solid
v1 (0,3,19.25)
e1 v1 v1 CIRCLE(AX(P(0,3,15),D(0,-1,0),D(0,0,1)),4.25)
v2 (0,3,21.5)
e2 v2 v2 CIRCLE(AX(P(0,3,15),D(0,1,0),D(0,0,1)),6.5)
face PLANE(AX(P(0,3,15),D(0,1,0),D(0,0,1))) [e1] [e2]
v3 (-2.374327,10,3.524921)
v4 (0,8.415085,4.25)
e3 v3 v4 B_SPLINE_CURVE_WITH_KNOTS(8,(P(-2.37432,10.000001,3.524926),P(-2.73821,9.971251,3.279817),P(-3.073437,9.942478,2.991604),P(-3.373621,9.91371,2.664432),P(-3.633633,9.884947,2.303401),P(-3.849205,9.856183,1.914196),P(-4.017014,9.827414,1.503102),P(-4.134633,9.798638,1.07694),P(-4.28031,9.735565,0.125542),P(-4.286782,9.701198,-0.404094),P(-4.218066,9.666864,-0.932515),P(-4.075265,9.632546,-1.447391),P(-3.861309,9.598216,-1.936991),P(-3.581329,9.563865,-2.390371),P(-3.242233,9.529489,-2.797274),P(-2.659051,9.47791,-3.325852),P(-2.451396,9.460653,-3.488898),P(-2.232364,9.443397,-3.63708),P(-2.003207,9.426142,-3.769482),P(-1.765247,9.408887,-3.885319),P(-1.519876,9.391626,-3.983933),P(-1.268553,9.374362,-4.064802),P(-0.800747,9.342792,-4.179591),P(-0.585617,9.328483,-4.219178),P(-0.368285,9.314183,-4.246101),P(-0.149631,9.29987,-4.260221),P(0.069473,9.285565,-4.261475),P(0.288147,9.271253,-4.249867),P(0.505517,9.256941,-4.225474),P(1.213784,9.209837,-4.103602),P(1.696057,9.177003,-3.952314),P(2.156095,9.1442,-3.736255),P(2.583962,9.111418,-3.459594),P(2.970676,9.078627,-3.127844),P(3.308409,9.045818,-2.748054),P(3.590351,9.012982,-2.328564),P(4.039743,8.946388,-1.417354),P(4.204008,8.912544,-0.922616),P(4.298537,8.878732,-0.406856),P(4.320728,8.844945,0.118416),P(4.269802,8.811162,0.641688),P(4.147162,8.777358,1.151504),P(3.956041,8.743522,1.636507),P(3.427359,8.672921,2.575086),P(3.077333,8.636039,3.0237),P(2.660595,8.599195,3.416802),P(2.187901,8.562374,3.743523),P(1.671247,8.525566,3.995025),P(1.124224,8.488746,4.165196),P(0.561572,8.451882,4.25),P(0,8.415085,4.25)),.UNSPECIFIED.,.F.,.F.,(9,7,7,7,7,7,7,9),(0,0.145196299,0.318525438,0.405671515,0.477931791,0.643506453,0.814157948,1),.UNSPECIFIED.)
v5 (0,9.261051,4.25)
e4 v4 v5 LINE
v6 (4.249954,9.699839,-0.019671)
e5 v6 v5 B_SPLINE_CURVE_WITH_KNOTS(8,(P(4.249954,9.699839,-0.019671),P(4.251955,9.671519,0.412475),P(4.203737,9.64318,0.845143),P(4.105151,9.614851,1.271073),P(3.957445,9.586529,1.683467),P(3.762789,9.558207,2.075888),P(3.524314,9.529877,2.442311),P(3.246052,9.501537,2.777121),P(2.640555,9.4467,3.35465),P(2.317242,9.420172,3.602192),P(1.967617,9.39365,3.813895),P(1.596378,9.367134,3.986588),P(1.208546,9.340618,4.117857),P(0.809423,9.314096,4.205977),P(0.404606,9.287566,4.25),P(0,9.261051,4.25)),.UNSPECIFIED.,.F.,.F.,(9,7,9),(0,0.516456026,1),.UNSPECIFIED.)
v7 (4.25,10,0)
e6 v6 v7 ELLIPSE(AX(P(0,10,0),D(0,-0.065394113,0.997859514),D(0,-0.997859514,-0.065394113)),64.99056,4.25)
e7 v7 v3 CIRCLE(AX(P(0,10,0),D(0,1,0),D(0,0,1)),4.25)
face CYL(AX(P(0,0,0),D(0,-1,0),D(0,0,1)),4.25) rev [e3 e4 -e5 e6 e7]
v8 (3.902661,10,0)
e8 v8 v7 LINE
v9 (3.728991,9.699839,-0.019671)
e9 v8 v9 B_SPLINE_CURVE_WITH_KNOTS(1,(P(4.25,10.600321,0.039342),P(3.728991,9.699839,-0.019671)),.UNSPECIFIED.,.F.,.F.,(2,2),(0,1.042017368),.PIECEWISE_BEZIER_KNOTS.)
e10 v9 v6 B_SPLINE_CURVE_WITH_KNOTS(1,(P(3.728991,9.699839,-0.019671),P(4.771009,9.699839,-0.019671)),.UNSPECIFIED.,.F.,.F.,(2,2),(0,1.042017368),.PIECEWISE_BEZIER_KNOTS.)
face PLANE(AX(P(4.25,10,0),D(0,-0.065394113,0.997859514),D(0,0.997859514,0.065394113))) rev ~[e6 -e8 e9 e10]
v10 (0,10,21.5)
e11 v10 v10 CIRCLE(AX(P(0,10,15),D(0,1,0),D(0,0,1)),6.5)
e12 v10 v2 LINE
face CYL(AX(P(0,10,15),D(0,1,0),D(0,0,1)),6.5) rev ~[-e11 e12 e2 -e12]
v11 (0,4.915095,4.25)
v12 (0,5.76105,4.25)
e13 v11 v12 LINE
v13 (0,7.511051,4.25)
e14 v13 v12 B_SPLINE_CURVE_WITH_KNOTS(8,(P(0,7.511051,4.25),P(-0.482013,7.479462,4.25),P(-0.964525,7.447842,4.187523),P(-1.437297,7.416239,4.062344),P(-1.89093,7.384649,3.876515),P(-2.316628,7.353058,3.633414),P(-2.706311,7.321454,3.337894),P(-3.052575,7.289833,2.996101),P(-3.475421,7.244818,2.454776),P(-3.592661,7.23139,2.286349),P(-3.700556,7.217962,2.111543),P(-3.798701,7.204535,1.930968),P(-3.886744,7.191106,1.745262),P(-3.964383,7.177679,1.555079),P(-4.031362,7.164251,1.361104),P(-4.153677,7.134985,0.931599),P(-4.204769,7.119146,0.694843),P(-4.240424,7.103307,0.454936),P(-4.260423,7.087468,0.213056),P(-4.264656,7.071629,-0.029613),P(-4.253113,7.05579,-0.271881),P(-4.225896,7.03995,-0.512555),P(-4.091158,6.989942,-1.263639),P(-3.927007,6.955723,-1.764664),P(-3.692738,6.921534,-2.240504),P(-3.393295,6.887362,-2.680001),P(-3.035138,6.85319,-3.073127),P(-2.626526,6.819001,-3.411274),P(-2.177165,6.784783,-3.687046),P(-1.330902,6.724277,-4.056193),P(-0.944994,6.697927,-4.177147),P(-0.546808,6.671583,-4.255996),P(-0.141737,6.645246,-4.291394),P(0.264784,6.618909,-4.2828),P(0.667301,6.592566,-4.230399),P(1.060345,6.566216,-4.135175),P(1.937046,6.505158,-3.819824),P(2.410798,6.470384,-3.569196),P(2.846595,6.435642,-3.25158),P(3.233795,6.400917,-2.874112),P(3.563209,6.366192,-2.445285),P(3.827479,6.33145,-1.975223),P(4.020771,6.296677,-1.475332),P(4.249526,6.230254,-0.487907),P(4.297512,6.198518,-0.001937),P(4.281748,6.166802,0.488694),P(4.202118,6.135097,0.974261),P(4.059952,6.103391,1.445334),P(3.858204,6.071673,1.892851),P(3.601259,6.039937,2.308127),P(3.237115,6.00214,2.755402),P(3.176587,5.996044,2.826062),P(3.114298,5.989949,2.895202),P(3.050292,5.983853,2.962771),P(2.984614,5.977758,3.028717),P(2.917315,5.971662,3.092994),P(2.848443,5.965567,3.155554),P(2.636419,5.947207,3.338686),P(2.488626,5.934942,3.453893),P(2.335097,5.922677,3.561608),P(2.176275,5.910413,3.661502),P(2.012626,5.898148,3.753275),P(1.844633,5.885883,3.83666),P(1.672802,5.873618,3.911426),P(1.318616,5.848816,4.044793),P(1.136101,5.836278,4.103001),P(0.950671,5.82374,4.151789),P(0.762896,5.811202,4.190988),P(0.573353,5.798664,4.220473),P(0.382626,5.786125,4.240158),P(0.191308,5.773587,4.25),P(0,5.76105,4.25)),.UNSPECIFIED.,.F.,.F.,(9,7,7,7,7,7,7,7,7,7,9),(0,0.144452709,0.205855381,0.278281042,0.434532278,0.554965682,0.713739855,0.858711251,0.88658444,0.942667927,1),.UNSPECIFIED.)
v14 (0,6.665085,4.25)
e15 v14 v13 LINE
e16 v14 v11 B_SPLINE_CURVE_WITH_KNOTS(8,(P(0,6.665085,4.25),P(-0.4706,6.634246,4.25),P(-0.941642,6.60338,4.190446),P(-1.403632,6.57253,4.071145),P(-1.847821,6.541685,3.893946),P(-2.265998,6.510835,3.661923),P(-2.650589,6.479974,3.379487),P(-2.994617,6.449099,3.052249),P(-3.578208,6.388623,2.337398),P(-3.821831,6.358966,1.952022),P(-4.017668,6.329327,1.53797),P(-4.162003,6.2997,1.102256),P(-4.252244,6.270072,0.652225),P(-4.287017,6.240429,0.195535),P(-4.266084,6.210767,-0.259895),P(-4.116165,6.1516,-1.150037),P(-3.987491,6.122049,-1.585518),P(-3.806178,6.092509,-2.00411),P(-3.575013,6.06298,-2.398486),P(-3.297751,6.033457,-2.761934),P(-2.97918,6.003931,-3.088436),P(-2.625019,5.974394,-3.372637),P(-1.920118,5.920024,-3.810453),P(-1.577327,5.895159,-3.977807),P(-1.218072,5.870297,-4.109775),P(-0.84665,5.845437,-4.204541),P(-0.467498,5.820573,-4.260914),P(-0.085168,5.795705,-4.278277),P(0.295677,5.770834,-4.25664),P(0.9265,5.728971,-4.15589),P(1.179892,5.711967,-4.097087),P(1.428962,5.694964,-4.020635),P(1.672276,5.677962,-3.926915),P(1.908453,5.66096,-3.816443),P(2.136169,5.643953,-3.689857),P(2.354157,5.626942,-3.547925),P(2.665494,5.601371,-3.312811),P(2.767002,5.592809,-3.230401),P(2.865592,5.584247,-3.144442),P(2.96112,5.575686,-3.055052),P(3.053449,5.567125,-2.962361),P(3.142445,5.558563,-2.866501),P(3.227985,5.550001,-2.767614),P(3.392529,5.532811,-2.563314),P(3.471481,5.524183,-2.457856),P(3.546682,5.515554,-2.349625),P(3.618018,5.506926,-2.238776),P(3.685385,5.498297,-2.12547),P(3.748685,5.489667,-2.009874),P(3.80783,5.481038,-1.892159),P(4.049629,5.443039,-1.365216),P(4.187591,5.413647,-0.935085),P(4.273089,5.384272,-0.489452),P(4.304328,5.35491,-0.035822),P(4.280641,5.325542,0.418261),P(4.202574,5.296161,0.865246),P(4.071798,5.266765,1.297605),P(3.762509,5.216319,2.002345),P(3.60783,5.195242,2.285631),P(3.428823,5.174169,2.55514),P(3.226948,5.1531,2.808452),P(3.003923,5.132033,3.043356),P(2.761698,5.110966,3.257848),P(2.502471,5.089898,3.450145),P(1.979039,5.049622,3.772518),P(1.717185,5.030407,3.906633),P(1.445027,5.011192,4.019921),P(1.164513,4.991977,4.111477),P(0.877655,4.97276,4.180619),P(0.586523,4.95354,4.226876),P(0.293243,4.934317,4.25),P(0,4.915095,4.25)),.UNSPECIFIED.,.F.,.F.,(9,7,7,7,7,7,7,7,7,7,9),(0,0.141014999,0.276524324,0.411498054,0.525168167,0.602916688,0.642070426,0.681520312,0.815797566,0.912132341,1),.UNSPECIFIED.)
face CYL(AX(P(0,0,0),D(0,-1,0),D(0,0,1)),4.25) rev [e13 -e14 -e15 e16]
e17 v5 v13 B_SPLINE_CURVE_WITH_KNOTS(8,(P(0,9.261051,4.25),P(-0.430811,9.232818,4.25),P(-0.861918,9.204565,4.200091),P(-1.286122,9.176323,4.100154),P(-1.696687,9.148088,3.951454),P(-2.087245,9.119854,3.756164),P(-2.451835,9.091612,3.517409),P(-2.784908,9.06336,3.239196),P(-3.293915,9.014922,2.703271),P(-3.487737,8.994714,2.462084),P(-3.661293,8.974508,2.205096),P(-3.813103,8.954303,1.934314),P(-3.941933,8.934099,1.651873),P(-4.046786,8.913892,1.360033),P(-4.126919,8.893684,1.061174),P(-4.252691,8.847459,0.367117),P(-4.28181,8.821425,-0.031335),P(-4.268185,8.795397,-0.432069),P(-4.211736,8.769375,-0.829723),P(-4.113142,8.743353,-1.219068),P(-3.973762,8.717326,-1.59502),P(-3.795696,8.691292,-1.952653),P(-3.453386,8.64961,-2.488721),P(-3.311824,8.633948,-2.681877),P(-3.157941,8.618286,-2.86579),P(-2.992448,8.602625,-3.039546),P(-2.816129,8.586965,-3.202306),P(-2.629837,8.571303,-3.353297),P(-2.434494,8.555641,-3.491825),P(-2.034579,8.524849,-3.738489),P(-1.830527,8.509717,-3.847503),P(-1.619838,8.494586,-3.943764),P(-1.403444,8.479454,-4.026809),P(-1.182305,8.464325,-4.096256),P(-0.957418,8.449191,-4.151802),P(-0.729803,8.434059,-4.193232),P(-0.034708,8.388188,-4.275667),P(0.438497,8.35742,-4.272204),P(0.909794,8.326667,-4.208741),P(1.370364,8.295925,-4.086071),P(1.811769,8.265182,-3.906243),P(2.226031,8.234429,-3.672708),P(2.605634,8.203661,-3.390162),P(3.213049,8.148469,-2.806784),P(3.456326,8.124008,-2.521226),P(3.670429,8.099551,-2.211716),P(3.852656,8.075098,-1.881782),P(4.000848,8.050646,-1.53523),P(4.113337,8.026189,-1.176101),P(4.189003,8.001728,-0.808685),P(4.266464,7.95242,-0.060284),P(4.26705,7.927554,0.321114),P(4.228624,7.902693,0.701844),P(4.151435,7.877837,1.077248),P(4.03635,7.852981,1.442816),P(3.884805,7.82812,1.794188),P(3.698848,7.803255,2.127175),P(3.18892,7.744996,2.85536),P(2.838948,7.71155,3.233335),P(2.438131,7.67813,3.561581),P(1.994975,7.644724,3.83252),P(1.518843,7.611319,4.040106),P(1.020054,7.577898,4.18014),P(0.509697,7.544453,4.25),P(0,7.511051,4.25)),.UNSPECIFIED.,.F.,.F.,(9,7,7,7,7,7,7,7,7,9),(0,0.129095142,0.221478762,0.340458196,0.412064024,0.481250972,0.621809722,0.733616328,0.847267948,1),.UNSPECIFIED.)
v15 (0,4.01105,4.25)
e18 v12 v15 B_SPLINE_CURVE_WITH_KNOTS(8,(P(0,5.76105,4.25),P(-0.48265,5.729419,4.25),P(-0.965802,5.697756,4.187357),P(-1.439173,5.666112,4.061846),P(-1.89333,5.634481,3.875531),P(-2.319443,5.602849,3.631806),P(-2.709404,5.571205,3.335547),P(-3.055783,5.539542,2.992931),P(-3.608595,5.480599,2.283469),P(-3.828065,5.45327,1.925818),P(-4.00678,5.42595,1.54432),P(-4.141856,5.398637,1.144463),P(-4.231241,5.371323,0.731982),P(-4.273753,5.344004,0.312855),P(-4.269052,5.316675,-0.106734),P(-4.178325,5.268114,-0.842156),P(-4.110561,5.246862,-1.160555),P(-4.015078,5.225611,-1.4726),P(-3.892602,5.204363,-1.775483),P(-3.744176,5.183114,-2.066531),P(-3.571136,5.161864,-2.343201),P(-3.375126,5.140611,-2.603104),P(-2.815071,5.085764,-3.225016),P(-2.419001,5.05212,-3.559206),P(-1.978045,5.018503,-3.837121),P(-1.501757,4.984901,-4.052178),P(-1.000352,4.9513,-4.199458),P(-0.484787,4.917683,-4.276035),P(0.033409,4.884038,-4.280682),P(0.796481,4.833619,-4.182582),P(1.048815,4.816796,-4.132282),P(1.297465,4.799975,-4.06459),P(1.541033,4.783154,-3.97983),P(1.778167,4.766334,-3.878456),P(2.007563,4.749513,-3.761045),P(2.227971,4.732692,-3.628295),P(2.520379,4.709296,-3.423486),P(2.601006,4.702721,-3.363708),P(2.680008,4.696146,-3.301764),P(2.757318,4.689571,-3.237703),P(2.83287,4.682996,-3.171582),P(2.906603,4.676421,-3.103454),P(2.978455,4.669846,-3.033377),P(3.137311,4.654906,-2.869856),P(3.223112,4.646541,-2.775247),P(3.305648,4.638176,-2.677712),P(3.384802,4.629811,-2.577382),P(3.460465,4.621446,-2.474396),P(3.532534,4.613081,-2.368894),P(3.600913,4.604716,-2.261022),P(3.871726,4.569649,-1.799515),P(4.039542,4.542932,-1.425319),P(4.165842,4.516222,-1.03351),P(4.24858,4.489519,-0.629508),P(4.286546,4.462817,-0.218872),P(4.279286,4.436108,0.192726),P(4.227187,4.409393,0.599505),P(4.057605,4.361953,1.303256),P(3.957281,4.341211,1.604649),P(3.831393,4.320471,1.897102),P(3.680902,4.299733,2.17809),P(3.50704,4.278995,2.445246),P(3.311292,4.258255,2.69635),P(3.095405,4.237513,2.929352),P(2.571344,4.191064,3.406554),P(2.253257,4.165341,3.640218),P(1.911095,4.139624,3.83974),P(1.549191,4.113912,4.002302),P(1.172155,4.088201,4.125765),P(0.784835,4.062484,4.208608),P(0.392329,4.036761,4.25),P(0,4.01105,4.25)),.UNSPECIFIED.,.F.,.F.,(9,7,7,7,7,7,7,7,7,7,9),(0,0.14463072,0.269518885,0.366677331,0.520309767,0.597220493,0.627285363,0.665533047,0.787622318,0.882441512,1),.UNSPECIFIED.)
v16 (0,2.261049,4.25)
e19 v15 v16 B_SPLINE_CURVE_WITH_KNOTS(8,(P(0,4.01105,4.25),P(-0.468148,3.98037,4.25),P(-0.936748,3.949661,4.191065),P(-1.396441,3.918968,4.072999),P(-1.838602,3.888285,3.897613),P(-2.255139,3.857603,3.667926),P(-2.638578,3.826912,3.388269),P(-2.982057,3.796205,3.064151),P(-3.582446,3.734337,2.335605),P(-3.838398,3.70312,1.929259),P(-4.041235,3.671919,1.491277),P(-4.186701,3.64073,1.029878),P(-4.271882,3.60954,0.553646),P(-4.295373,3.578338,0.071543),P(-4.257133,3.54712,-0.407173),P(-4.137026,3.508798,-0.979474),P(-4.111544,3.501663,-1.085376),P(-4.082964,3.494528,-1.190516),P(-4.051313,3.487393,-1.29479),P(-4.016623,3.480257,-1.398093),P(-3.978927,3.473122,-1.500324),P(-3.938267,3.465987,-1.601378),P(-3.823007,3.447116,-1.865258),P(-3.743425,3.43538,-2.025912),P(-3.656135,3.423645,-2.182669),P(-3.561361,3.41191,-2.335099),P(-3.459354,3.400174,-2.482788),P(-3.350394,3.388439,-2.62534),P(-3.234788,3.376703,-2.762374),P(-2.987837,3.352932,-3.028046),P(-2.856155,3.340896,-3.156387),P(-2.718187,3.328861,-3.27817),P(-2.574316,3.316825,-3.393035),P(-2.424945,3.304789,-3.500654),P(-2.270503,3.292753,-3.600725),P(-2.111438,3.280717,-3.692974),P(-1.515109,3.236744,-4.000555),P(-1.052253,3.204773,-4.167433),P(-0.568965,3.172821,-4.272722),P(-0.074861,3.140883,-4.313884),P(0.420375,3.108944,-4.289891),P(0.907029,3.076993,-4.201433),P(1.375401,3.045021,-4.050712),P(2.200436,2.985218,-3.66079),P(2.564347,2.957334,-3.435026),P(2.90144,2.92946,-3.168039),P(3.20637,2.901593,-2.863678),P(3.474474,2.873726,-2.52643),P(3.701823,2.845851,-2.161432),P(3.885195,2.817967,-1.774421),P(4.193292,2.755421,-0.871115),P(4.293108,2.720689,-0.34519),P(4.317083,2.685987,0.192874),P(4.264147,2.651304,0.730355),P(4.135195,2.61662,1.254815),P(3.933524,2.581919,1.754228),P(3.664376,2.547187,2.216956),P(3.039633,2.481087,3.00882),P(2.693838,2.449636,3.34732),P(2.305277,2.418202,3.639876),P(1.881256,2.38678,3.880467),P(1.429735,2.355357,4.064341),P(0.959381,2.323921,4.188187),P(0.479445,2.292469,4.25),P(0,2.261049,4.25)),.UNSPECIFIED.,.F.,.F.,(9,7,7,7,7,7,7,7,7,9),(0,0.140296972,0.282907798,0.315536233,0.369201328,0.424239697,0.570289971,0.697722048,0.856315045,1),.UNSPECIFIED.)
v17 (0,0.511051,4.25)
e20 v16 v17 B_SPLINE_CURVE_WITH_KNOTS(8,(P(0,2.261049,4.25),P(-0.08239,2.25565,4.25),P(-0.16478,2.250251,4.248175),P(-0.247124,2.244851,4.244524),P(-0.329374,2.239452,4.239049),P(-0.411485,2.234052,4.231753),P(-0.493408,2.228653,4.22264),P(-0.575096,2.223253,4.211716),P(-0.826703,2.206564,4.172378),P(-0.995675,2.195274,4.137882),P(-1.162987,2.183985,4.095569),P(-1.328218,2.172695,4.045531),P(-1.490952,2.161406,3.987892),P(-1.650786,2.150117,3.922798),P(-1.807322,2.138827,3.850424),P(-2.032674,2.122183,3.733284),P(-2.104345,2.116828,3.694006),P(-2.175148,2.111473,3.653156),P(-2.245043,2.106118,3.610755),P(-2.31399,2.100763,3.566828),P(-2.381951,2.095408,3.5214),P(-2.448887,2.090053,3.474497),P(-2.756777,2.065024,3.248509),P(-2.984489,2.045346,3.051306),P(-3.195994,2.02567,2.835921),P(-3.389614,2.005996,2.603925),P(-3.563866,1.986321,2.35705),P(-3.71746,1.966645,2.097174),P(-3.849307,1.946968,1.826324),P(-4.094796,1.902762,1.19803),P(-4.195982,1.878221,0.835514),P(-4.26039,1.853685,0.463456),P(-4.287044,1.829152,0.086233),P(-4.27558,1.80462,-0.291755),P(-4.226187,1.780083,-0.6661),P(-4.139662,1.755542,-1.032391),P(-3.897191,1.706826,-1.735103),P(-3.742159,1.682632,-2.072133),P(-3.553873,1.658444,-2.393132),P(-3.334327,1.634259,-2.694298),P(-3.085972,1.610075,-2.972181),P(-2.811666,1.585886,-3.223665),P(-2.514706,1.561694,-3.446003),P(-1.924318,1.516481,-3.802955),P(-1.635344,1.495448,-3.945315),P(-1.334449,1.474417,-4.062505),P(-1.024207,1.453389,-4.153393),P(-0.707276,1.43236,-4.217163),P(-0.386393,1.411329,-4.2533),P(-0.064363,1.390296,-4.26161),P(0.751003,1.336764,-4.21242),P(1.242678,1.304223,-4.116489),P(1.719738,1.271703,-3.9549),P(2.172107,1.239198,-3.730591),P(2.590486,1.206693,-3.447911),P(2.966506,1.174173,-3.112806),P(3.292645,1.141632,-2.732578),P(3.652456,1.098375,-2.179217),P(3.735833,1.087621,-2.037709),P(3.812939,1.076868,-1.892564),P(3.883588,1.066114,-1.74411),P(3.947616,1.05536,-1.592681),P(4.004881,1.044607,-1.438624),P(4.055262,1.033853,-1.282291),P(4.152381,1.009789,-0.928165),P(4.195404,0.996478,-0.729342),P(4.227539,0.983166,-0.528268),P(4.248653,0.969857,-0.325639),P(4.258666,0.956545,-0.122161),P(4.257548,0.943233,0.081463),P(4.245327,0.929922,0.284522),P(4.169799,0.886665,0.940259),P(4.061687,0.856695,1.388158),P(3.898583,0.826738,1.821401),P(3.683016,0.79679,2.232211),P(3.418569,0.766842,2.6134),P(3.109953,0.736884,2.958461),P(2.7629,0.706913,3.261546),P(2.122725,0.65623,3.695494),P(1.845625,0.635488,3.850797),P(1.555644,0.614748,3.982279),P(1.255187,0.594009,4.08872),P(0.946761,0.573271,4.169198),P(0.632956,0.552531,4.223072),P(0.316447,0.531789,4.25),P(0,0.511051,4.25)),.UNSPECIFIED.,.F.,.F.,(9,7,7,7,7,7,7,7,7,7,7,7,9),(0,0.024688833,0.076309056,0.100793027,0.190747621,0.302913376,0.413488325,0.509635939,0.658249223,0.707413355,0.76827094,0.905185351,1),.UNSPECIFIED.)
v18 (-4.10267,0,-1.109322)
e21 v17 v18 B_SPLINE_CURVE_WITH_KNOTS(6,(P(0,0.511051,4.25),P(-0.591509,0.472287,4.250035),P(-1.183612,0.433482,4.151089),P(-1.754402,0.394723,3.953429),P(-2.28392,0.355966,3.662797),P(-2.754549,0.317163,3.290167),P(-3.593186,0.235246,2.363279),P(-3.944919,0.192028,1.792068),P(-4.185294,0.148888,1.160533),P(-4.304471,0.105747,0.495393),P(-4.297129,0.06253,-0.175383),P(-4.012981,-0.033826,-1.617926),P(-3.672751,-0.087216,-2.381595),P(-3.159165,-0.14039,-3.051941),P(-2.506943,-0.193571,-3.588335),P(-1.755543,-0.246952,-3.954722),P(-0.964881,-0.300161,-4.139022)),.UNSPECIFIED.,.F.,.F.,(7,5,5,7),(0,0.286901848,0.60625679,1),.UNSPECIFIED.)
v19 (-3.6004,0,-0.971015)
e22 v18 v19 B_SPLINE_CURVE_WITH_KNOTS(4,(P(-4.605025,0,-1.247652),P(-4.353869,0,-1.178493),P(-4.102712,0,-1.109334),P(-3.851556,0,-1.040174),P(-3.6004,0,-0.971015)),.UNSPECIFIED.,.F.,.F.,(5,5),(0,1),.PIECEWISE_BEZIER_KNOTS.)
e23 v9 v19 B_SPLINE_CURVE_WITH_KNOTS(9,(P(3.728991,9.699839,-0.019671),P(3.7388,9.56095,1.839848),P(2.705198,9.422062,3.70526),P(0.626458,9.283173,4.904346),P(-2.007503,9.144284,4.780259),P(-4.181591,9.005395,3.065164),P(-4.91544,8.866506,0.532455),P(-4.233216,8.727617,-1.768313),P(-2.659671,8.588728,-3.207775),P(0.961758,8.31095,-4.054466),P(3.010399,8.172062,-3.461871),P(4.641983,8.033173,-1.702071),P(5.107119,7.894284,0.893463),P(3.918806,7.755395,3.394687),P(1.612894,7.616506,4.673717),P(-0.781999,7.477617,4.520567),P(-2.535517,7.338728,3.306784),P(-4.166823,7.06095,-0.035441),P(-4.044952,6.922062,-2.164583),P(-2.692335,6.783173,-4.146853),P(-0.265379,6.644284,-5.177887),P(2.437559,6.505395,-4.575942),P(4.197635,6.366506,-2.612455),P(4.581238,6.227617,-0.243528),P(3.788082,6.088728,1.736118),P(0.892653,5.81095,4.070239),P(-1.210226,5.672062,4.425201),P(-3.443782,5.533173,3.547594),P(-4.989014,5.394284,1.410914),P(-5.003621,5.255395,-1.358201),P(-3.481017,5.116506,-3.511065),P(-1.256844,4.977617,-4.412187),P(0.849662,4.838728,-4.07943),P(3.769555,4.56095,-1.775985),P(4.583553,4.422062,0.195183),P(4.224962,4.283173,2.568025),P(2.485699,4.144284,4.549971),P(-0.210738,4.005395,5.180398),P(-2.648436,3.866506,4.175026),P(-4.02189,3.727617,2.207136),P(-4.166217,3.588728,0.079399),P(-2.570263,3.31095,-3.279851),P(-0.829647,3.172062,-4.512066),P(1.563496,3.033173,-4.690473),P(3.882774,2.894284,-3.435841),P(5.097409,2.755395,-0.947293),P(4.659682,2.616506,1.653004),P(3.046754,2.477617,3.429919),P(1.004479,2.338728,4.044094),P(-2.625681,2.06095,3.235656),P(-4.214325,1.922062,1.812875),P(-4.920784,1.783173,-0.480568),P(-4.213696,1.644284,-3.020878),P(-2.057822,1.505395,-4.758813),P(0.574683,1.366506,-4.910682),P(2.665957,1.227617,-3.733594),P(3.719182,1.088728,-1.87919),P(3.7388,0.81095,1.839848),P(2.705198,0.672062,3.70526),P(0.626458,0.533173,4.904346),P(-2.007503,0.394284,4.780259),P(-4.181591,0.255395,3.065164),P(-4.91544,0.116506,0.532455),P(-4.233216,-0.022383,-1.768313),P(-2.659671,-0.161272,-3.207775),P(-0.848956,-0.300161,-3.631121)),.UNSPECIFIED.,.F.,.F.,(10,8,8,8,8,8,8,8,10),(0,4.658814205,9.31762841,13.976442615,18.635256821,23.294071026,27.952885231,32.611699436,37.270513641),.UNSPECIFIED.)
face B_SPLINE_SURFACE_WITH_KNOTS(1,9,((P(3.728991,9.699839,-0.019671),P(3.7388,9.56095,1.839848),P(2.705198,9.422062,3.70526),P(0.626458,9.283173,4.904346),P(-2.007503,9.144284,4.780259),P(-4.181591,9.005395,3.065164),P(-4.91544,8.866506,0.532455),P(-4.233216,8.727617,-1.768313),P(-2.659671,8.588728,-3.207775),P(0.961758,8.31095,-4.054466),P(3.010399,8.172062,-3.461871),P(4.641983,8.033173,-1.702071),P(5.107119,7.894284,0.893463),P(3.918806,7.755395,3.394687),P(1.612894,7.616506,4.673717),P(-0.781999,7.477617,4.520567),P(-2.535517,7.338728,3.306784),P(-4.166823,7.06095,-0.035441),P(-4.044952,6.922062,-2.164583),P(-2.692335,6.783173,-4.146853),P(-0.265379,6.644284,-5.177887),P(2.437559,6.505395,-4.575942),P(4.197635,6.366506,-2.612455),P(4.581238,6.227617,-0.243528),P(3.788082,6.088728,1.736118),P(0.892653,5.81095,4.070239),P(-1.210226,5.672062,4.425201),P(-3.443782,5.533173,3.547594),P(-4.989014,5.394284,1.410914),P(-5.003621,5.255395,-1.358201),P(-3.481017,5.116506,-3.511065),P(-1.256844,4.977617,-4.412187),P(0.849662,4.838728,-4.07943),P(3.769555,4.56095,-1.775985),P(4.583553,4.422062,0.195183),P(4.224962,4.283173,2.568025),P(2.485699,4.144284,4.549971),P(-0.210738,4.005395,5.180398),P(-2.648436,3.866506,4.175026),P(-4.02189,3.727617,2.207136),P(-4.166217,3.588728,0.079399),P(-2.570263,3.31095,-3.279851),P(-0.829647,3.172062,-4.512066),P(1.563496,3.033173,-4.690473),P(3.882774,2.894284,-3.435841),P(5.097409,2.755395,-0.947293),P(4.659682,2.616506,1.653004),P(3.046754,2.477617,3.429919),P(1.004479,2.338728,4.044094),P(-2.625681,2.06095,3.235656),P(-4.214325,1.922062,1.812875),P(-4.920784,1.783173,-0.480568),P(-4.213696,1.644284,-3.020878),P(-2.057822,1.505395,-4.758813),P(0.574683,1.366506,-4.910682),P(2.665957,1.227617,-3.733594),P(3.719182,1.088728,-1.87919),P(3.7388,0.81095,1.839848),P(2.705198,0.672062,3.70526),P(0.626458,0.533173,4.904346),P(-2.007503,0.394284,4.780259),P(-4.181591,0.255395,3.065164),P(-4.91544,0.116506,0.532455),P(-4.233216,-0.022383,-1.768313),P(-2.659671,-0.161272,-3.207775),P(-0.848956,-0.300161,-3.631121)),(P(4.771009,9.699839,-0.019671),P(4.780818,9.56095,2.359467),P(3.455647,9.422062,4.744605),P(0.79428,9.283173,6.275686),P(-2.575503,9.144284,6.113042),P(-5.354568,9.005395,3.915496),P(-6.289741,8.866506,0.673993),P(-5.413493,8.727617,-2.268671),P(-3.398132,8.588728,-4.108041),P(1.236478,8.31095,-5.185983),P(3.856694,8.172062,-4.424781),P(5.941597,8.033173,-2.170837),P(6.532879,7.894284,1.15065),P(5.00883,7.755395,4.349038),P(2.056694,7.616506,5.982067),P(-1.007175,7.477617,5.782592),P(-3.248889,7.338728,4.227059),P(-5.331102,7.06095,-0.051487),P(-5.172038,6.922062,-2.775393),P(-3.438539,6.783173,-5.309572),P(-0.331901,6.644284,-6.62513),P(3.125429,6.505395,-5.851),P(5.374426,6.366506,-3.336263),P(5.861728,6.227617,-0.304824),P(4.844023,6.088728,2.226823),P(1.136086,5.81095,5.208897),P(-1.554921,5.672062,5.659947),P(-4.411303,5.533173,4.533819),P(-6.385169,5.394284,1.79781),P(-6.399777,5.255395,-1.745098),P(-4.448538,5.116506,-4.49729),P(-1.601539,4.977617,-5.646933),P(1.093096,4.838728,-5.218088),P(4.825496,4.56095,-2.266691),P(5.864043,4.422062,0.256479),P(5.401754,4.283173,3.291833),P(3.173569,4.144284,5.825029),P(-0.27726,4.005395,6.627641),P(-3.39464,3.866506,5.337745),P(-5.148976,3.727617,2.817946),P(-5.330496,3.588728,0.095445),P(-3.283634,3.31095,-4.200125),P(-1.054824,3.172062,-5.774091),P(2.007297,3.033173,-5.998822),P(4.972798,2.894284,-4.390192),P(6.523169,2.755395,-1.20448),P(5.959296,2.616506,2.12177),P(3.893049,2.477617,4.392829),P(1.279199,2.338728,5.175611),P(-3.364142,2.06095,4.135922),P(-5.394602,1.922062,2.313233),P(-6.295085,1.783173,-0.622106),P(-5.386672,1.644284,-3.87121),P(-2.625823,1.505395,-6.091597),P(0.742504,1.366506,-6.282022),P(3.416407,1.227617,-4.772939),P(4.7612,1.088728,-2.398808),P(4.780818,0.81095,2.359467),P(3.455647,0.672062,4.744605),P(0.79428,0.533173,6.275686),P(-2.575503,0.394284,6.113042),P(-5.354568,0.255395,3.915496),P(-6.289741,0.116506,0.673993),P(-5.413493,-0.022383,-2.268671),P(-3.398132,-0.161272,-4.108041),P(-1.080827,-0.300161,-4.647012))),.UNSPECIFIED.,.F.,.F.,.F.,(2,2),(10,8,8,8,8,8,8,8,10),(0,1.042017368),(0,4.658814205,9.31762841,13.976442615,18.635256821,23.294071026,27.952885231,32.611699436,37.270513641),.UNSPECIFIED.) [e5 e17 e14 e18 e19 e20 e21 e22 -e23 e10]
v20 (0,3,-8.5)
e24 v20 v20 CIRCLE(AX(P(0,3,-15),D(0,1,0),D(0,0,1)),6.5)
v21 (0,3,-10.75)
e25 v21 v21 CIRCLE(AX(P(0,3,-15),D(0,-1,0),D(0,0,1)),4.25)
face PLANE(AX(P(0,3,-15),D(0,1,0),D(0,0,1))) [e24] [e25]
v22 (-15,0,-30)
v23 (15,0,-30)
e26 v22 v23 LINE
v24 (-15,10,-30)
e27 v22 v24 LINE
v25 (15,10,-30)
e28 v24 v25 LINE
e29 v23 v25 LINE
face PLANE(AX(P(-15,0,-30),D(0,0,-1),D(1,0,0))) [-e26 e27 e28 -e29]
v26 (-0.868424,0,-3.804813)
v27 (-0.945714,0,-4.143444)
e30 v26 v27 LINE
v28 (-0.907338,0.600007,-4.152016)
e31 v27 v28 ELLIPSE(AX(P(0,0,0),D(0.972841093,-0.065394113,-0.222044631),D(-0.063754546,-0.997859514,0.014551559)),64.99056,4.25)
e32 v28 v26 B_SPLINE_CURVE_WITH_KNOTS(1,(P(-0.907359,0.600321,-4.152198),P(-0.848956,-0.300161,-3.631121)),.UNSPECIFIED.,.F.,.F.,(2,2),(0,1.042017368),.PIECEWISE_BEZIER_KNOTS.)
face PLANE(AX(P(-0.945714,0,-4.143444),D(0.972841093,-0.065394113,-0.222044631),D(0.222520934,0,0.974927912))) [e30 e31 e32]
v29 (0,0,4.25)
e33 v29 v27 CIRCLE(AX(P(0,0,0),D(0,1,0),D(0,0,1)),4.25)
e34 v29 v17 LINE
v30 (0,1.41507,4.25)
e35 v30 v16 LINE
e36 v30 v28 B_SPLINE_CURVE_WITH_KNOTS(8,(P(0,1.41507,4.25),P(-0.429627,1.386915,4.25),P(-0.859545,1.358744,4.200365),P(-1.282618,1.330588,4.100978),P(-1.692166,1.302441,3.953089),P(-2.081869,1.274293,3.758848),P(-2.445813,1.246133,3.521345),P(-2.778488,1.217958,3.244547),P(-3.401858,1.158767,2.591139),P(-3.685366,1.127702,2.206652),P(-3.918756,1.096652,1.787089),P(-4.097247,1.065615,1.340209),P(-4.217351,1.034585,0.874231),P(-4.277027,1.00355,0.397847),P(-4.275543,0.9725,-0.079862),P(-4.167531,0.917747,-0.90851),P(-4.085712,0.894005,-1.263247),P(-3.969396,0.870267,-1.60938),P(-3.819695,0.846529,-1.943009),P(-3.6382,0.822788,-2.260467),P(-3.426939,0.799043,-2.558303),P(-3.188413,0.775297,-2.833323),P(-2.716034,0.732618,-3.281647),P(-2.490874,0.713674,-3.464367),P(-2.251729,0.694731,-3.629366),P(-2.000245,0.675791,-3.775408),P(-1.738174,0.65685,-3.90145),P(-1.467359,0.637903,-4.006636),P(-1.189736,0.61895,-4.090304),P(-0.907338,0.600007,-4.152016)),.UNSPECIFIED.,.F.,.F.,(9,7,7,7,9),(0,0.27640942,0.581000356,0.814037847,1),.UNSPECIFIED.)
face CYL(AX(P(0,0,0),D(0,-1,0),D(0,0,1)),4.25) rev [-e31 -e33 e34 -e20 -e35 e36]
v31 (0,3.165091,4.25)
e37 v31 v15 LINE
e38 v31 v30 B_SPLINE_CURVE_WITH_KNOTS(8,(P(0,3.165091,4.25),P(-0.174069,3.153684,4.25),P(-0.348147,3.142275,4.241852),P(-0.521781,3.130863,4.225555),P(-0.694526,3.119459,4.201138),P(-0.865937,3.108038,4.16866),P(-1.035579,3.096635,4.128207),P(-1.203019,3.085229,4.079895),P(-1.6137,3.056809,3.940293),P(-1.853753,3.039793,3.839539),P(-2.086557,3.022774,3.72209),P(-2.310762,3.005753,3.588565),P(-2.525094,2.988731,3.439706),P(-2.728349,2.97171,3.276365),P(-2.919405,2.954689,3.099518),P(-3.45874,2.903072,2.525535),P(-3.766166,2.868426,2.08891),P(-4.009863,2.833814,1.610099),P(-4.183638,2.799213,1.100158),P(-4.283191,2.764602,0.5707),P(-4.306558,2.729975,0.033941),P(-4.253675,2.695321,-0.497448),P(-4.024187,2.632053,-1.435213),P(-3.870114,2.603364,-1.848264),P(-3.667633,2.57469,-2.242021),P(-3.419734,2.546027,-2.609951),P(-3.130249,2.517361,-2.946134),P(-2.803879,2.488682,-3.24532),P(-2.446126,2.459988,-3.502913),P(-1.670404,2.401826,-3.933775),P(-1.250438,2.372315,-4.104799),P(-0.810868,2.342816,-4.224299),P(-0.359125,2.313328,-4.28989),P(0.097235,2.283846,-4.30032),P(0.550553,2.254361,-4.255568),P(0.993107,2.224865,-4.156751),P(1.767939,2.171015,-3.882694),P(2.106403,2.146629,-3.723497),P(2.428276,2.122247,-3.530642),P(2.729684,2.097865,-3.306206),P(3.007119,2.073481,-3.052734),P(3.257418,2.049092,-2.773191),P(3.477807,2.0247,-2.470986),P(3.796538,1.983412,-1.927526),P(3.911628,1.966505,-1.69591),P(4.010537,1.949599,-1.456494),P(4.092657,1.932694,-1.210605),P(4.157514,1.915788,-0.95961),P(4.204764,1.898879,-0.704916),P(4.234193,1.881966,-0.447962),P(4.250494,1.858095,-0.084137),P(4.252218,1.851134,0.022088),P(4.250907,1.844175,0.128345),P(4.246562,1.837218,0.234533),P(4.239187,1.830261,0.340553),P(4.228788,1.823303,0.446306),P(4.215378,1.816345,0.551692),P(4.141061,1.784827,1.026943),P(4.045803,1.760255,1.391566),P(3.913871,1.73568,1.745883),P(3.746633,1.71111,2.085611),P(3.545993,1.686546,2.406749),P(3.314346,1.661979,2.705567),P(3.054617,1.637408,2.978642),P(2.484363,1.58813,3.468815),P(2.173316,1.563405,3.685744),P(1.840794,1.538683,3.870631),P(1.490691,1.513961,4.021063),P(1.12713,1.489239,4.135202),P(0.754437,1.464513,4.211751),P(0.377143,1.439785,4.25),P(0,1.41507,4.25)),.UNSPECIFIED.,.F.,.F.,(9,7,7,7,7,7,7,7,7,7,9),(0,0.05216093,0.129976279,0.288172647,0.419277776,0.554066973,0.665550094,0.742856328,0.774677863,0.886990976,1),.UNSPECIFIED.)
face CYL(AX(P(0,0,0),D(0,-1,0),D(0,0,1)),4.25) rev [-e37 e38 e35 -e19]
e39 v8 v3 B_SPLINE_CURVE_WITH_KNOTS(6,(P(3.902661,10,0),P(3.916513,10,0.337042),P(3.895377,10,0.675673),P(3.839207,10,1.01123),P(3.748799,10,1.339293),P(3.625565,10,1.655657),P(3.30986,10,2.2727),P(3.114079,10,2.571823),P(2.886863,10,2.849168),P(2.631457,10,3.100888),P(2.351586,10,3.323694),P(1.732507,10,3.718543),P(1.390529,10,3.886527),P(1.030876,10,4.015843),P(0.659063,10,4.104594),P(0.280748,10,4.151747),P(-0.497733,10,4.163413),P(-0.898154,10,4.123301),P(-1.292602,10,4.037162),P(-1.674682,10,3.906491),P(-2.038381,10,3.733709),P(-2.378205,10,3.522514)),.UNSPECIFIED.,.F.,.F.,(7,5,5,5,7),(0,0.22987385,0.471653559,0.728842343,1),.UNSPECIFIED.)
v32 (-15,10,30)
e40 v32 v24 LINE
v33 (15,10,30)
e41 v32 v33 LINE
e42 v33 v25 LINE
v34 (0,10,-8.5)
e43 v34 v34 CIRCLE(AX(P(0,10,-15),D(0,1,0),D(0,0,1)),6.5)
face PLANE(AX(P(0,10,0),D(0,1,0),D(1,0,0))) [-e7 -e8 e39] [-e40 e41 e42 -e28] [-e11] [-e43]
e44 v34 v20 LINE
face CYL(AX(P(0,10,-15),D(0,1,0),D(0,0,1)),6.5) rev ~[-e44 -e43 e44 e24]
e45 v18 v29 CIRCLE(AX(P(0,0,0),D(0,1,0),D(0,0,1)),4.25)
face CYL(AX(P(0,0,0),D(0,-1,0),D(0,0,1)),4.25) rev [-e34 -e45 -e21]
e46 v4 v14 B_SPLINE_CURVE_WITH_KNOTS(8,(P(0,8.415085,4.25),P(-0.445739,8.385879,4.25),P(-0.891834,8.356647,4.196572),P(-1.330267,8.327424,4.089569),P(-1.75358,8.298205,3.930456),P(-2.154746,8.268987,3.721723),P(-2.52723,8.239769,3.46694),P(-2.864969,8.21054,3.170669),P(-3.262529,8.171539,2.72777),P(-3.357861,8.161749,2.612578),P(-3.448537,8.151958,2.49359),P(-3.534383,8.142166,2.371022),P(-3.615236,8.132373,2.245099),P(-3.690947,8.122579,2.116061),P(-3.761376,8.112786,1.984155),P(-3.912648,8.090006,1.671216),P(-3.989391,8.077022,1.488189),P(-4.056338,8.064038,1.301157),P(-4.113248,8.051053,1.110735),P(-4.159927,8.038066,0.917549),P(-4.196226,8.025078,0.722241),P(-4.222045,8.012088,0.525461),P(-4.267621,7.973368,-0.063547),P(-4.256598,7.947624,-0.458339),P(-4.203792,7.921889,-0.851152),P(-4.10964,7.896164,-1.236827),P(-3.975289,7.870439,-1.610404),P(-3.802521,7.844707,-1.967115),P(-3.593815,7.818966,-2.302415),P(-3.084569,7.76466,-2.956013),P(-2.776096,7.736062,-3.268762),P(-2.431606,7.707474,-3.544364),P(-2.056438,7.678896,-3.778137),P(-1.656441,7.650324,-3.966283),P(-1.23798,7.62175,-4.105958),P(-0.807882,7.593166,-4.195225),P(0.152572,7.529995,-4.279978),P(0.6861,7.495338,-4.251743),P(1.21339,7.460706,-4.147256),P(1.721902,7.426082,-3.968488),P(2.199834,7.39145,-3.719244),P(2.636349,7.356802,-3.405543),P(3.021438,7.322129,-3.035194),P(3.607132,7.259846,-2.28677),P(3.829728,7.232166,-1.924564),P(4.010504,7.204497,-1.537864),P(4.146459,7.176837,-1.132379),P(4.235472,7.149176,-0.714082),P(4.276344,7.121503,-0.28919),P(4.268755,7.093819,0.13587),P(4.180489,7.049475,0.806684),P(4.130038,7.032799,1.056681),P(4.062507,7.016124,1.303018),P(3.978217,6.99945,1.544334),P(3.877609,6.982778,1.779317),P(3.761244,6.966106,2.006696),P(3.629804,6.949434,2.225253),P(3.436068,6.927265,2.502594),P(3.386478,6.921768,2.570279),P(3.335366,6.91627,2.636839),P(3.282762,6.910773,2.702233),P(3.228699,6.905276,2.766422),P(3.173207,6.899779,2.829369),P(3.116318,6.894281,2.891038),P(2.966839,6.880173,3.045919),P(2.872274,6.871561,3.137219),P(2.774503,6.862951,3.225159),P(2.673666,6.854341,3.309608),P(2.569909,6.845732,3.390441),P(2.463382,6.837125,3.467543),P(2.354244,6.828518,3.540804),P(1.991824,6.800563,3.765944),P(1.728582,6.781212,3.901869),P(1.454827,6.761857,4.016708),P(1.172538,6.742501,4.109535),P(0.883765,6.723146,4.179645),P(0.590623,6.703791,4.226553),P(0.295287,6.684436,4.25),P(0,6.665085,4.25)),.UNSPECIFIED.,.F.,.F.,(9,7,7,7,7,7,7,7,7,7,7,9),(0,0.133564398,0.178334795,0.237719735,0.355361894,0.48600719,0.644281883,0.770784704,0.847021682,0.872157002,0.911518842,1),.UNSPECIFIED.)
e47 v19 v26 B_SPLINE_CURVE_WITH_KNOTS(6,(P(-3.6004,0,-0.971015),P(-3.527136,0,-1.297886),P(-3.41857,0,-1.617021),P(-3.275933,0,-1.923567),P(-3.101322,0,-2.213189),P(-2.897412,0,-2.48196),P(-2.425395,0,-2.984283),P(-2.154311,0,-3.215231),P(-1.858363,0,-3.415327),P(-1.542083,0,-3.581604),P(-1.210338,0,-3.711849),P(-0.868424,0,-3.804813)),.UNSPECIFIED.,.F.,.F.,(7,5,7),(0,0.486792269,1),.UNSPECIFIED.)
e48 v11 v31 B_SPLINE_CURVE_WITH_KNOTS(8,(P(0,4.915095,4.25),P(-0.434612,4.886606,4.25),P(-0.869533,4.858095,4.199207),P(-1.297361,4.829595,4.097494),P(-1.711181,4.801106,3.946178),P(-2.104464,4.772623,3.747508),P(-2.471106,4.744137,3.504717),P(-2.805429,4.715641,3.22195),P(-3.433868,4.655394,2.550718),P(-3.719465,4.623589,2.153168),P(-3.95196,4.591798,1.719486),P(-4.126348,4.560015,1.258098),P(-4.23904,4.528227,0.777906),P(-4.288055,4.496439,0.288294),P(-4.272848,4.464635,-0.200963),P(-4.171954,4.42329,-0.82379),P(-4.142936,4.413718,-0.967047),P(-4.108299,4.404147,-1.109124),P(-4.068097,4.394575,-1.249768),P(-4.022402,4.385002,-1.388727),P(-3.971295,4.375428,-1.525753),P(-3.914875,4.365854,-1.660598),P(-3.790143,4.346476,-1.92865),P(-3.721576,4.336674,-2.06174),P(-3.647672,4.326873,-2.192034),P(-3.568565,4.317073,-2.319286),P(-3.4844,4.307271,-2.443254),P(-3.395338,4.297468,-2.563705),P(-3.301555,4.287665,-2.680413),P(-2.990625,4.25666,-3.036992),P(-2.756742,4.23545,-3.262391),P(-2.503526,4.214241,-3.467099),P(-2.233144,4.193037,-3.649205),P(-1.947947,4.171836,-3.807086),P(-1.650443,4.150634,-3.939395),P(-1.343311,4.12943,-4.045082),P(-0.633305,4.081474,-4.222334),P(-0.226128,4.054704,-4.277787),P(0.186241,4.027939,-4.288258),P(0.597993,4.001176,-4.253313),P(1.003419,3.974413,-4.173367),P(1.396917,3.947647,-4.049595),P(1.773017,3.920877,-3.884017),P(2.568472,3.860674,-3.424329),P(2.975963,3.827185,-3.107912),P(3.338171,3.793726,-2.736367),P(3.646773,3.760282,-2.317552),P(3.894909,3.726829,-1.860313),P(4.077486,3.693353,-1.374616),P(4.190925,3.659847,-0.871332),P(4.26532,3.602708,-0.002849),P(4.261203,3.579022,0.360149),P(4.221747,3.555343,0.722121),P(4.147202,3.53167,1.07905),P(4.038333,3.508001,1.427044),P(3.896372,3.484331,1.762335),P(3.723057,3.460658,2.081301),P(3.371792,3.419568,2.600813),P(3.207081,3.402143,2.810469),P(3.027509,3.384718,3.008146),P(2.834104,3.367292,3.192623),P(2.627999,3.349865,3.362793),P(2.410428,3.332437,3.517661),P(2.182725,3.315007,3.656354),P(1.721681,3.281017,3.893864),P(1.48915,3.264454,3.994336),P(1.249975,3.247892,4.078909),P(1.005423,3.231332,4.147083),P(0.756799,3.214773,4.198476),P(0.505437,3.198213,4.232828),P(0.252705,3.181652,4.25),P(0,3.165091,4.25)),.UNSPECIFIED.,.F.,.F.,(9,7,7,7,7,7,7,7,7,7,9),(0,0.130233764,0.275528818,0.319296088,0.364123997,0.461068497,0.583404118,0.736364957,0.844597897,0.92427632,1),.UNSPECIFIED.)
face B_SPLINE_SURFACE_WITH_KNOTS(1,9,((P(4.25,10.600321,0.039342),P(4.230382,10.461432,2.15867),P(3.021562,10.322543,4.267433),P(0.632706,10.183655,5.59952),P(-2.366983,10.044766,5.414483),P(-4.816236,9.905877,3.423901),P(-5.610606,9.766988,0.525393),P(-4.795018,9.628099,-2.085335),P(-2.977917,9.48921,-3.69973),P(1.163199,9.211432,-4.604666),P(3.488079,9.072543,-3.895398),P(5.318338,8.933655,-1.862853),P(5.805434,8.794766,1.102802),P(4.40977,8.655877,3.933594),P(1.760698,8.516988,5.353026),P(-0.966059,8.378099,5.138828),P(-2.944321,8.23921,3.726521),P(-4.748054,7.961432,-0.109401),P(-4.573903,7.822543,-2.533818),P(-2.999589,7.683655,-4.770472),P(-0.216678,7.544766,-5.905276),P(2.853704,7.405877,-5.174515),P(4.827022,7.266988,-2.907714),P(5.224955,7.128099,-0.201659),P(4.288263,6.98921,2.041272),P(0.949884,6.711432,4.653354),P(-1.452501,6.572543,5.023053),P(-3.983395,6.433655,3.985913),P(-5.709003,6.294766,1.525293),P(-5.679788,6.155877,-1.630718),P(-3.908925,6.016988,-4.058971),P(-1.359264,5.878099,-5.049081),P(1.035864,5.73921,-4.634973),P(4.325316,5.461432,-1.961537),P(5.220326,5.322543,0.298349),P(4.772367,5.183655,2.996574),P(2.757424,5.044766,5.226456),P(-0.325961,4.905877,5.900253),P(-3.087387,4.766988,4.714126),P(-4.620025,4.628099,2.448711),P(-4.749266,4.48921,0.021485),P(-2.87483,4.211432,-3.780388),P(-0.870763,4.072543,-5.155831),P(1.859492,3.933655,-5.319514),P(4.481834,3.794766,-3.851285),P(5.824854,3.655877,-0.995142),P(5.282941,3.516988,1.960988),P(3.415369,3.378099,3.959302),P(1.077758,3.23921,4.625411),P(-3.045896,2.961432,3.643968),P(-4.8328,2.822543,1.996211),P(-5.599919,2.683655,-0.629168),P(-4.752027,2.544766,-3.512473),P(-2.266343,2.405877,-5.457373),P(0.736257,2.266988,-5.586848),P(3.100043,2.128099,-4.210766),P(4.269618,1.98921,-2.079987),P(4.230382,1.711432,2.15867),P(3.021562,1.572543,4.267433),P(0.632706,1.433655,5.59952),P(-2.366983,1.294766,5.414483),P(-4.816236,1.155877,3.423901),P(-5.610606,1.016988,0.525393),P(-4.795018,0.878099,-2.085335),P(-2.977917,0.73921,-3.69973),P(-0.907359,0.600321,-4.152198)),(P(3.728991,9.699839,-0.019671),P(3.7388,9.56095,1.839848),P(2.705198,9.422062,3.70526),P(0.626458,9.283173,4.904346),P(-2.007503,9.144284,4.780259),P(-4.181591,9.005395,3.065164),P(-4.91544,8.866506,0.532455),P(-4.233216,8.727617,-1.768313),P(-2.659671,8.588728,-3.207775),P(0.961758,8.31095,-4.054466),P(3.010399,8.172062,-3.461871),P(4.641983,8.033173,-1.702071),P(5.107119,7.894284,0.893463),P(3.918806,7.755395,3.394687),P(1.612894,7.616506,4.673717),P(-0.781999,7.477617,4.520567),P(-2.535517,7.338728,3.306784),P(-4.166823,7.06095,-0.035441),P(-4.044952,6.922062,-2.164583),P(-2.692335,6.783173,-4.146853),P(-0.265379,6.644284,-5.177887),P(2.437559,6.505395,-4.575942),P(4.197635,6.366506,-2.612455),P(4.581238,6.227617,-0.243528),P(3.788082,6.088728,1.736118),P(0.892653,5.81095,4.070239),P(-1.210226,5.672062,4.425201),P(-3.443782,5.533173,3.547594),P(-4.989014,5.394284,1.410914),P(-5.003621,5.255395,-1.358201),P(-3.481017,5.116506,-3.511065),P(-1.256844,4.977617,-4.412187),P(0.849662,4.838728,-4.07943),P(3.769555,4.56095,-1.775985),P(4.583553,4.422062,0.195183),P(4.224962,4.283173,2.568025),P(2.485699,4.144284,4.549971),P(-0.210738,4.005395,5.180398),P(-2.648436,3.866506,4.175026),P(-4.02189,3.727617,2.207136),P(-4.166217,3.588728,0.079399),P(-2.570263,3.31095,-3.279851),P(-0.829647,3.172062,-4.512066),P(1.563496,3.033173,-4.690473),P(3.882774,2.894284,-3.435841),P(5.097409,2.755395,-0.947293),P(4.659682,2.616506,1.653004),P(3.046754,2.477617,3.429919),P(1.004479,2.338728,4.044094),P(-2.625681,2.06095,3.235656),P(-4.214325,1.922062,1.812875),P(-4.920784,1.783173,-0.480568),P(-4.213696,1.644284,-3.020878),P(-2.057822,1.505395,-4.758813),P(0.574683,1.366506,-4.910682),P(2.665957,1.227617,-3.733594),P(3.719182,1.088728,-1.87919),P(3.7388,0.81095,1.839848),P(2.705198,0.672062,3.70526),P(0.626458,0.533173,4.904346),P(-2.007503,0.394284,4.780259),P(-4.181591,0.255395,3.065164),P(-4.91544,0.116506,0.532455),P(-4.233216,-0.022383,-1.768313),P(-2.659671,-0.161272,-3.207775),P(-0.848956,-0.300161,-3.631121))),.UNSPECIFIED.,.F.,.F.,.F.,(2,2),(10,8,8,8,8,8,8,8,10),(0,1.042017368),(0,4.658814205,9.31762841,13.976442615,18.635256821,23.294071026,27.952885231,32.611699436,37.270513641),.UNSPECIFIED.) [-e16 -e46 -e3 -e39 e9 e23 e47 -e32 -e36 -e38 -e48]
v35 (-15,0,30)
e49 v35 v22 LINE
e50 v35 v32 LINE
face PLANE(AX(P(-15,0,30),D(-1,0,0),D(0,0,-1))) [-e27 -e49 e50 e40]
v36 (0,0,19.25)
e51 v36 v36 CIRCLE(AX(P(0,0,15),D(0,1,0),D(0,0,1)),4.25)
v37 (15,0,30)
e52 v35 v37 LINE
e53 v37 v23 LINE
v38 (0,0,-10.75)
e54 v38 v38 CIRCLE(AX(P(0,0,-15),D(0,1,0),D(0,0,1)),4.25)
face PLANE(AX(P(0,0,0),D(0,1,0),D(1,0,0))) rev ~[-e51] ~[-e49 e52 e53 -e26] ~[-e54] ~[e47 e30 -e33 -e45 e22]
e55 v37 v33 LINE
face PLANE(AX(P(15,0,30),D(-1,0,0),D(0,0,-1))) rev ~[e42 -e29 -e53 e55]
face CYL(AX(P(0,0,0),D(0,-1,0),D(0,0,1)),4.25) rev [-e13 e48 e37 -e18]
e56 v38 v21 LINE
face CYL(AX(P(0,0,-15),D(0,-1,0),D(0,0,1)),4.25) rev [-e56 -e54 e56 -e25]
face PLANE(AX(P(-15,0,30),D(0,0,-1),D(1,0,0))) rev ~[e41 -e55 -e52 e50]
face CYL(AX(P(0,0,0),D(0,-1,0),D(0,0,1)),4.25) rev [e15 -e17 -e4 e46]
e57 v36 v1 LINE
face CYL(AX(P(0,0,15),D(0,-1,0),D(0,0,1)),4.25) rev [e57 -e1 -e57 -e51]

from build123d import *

# Parameters (mm, degrees)
SKETCH_1_W          = 30
SKETCH_1_H          = 60
SKETCH_1_R          = 4.25
EXTRUDE_1_DEPTH     = 10
SKETCH_3_R          = 6.5
CUT_EXTRUDE_1_DEPTH = 7
SWEEP_1_PITCH       = 1.75
SWEEP_1_HEIGHT      = 10
SWEEP_1_RADIUS      = 4.25
SWEEP_1_START_ANGLE = 90
SKETCH_6_W          = 30
SKETCH_6_H          = 9.258755221
SKETCH_6_H_2        = 12.64673583
CUT_EXTRUDE_2_DEPTH = 63.748440843


with BuildPart() as part:
    # 草图1 → 凸台-拉伸1 (new body)
    with BuildSketch(Plane(origin=(0, 0, 0), x_dir=(1, 0, 0), z_dir=(0, 1, 0))):
        Rectangle(SKETCH_1_W, SKETCH_1_H)
        with Locations(Location((0, 15, 0), (0, 0, 270))):
            Circle(SKETCH_1_R, mode=Mode.SUBTRACT)
        with Locations(Location((0, -15, 0), (0, 0, 270))):
            Circle(SKETCH_1_R, mode=Mode.SUBTRACT)
        with Locations(Location((0, 0, 0), (0, 0, 270))):
            Circle(SKETCH_1_R, mode=Mode.SUBTRACT)
    extrude(amount=EXTRUDE_1_DEPTH)

    # 草图3 → 切除-拉伸1 (cut)
    with BuildSketch(Plane(origin=(0, 10, 0), x_dir=(1, 0, 0), z_dir=(0, 1, 0))):
        with Locations(Location((0, 15, 0), (0, 0, 270))):
            Circle(SKETCH_3_R)
        with Locations(Location((0, -15, 0), (0, 0, 270))):
            Circle(SKETCH_3_R)
    extrude(amount=-CUT_EXTRUDE_1_DEPTH, mode=Mode.SUBTRACT)

    # 扫描1: sweep along a helix
    with BuildLine() as sweep_1_path:
        add(Helix(SWEEP_1_PITCH, SWEEP_1_HEIGHT, SWEEP_1_RADIUS, center=(0, 10, 0), direction=(0, -1, 0), mode=Mode.PRIVATE).rotate(Axis((0, 10, 0), (0, -1, 0)), SWEEP_1_START_ANGLE))
    # 草图5 → 扫描1 (sweep)
    with BuildSketch(Plane(origin=(4.25, 10, 0), x_dir=(1, 0, 0), z_dir=(3.1170229136343766e-15, -0.06539411290163802, 0.9978595141590864))):
        Polygon((0, 0.601609008), (-0.521008684, -0.300804504), (0.521008684, -0.300804504), align=None)
    sweep(path=sweep_1_path.line, is_frenet=True)

    # 草图6 → 切除-拉伸2 (cut, through all)
    with BuildSketch(Plane.XY.offset(30)):
        with Locations((0, 14.629377611)):
            Rectangle(SKETCH_6_W, SKETCH_6_H)
        with Locations((0, -6.323367915)):
            Rectangle(SKETCH_6_W, SKETCH_6_H_2)
    extrude(amount=-CUT_EXTRUDE_2_DEPTH, mode=Mode.SUBTRACT)


solid = part.part
